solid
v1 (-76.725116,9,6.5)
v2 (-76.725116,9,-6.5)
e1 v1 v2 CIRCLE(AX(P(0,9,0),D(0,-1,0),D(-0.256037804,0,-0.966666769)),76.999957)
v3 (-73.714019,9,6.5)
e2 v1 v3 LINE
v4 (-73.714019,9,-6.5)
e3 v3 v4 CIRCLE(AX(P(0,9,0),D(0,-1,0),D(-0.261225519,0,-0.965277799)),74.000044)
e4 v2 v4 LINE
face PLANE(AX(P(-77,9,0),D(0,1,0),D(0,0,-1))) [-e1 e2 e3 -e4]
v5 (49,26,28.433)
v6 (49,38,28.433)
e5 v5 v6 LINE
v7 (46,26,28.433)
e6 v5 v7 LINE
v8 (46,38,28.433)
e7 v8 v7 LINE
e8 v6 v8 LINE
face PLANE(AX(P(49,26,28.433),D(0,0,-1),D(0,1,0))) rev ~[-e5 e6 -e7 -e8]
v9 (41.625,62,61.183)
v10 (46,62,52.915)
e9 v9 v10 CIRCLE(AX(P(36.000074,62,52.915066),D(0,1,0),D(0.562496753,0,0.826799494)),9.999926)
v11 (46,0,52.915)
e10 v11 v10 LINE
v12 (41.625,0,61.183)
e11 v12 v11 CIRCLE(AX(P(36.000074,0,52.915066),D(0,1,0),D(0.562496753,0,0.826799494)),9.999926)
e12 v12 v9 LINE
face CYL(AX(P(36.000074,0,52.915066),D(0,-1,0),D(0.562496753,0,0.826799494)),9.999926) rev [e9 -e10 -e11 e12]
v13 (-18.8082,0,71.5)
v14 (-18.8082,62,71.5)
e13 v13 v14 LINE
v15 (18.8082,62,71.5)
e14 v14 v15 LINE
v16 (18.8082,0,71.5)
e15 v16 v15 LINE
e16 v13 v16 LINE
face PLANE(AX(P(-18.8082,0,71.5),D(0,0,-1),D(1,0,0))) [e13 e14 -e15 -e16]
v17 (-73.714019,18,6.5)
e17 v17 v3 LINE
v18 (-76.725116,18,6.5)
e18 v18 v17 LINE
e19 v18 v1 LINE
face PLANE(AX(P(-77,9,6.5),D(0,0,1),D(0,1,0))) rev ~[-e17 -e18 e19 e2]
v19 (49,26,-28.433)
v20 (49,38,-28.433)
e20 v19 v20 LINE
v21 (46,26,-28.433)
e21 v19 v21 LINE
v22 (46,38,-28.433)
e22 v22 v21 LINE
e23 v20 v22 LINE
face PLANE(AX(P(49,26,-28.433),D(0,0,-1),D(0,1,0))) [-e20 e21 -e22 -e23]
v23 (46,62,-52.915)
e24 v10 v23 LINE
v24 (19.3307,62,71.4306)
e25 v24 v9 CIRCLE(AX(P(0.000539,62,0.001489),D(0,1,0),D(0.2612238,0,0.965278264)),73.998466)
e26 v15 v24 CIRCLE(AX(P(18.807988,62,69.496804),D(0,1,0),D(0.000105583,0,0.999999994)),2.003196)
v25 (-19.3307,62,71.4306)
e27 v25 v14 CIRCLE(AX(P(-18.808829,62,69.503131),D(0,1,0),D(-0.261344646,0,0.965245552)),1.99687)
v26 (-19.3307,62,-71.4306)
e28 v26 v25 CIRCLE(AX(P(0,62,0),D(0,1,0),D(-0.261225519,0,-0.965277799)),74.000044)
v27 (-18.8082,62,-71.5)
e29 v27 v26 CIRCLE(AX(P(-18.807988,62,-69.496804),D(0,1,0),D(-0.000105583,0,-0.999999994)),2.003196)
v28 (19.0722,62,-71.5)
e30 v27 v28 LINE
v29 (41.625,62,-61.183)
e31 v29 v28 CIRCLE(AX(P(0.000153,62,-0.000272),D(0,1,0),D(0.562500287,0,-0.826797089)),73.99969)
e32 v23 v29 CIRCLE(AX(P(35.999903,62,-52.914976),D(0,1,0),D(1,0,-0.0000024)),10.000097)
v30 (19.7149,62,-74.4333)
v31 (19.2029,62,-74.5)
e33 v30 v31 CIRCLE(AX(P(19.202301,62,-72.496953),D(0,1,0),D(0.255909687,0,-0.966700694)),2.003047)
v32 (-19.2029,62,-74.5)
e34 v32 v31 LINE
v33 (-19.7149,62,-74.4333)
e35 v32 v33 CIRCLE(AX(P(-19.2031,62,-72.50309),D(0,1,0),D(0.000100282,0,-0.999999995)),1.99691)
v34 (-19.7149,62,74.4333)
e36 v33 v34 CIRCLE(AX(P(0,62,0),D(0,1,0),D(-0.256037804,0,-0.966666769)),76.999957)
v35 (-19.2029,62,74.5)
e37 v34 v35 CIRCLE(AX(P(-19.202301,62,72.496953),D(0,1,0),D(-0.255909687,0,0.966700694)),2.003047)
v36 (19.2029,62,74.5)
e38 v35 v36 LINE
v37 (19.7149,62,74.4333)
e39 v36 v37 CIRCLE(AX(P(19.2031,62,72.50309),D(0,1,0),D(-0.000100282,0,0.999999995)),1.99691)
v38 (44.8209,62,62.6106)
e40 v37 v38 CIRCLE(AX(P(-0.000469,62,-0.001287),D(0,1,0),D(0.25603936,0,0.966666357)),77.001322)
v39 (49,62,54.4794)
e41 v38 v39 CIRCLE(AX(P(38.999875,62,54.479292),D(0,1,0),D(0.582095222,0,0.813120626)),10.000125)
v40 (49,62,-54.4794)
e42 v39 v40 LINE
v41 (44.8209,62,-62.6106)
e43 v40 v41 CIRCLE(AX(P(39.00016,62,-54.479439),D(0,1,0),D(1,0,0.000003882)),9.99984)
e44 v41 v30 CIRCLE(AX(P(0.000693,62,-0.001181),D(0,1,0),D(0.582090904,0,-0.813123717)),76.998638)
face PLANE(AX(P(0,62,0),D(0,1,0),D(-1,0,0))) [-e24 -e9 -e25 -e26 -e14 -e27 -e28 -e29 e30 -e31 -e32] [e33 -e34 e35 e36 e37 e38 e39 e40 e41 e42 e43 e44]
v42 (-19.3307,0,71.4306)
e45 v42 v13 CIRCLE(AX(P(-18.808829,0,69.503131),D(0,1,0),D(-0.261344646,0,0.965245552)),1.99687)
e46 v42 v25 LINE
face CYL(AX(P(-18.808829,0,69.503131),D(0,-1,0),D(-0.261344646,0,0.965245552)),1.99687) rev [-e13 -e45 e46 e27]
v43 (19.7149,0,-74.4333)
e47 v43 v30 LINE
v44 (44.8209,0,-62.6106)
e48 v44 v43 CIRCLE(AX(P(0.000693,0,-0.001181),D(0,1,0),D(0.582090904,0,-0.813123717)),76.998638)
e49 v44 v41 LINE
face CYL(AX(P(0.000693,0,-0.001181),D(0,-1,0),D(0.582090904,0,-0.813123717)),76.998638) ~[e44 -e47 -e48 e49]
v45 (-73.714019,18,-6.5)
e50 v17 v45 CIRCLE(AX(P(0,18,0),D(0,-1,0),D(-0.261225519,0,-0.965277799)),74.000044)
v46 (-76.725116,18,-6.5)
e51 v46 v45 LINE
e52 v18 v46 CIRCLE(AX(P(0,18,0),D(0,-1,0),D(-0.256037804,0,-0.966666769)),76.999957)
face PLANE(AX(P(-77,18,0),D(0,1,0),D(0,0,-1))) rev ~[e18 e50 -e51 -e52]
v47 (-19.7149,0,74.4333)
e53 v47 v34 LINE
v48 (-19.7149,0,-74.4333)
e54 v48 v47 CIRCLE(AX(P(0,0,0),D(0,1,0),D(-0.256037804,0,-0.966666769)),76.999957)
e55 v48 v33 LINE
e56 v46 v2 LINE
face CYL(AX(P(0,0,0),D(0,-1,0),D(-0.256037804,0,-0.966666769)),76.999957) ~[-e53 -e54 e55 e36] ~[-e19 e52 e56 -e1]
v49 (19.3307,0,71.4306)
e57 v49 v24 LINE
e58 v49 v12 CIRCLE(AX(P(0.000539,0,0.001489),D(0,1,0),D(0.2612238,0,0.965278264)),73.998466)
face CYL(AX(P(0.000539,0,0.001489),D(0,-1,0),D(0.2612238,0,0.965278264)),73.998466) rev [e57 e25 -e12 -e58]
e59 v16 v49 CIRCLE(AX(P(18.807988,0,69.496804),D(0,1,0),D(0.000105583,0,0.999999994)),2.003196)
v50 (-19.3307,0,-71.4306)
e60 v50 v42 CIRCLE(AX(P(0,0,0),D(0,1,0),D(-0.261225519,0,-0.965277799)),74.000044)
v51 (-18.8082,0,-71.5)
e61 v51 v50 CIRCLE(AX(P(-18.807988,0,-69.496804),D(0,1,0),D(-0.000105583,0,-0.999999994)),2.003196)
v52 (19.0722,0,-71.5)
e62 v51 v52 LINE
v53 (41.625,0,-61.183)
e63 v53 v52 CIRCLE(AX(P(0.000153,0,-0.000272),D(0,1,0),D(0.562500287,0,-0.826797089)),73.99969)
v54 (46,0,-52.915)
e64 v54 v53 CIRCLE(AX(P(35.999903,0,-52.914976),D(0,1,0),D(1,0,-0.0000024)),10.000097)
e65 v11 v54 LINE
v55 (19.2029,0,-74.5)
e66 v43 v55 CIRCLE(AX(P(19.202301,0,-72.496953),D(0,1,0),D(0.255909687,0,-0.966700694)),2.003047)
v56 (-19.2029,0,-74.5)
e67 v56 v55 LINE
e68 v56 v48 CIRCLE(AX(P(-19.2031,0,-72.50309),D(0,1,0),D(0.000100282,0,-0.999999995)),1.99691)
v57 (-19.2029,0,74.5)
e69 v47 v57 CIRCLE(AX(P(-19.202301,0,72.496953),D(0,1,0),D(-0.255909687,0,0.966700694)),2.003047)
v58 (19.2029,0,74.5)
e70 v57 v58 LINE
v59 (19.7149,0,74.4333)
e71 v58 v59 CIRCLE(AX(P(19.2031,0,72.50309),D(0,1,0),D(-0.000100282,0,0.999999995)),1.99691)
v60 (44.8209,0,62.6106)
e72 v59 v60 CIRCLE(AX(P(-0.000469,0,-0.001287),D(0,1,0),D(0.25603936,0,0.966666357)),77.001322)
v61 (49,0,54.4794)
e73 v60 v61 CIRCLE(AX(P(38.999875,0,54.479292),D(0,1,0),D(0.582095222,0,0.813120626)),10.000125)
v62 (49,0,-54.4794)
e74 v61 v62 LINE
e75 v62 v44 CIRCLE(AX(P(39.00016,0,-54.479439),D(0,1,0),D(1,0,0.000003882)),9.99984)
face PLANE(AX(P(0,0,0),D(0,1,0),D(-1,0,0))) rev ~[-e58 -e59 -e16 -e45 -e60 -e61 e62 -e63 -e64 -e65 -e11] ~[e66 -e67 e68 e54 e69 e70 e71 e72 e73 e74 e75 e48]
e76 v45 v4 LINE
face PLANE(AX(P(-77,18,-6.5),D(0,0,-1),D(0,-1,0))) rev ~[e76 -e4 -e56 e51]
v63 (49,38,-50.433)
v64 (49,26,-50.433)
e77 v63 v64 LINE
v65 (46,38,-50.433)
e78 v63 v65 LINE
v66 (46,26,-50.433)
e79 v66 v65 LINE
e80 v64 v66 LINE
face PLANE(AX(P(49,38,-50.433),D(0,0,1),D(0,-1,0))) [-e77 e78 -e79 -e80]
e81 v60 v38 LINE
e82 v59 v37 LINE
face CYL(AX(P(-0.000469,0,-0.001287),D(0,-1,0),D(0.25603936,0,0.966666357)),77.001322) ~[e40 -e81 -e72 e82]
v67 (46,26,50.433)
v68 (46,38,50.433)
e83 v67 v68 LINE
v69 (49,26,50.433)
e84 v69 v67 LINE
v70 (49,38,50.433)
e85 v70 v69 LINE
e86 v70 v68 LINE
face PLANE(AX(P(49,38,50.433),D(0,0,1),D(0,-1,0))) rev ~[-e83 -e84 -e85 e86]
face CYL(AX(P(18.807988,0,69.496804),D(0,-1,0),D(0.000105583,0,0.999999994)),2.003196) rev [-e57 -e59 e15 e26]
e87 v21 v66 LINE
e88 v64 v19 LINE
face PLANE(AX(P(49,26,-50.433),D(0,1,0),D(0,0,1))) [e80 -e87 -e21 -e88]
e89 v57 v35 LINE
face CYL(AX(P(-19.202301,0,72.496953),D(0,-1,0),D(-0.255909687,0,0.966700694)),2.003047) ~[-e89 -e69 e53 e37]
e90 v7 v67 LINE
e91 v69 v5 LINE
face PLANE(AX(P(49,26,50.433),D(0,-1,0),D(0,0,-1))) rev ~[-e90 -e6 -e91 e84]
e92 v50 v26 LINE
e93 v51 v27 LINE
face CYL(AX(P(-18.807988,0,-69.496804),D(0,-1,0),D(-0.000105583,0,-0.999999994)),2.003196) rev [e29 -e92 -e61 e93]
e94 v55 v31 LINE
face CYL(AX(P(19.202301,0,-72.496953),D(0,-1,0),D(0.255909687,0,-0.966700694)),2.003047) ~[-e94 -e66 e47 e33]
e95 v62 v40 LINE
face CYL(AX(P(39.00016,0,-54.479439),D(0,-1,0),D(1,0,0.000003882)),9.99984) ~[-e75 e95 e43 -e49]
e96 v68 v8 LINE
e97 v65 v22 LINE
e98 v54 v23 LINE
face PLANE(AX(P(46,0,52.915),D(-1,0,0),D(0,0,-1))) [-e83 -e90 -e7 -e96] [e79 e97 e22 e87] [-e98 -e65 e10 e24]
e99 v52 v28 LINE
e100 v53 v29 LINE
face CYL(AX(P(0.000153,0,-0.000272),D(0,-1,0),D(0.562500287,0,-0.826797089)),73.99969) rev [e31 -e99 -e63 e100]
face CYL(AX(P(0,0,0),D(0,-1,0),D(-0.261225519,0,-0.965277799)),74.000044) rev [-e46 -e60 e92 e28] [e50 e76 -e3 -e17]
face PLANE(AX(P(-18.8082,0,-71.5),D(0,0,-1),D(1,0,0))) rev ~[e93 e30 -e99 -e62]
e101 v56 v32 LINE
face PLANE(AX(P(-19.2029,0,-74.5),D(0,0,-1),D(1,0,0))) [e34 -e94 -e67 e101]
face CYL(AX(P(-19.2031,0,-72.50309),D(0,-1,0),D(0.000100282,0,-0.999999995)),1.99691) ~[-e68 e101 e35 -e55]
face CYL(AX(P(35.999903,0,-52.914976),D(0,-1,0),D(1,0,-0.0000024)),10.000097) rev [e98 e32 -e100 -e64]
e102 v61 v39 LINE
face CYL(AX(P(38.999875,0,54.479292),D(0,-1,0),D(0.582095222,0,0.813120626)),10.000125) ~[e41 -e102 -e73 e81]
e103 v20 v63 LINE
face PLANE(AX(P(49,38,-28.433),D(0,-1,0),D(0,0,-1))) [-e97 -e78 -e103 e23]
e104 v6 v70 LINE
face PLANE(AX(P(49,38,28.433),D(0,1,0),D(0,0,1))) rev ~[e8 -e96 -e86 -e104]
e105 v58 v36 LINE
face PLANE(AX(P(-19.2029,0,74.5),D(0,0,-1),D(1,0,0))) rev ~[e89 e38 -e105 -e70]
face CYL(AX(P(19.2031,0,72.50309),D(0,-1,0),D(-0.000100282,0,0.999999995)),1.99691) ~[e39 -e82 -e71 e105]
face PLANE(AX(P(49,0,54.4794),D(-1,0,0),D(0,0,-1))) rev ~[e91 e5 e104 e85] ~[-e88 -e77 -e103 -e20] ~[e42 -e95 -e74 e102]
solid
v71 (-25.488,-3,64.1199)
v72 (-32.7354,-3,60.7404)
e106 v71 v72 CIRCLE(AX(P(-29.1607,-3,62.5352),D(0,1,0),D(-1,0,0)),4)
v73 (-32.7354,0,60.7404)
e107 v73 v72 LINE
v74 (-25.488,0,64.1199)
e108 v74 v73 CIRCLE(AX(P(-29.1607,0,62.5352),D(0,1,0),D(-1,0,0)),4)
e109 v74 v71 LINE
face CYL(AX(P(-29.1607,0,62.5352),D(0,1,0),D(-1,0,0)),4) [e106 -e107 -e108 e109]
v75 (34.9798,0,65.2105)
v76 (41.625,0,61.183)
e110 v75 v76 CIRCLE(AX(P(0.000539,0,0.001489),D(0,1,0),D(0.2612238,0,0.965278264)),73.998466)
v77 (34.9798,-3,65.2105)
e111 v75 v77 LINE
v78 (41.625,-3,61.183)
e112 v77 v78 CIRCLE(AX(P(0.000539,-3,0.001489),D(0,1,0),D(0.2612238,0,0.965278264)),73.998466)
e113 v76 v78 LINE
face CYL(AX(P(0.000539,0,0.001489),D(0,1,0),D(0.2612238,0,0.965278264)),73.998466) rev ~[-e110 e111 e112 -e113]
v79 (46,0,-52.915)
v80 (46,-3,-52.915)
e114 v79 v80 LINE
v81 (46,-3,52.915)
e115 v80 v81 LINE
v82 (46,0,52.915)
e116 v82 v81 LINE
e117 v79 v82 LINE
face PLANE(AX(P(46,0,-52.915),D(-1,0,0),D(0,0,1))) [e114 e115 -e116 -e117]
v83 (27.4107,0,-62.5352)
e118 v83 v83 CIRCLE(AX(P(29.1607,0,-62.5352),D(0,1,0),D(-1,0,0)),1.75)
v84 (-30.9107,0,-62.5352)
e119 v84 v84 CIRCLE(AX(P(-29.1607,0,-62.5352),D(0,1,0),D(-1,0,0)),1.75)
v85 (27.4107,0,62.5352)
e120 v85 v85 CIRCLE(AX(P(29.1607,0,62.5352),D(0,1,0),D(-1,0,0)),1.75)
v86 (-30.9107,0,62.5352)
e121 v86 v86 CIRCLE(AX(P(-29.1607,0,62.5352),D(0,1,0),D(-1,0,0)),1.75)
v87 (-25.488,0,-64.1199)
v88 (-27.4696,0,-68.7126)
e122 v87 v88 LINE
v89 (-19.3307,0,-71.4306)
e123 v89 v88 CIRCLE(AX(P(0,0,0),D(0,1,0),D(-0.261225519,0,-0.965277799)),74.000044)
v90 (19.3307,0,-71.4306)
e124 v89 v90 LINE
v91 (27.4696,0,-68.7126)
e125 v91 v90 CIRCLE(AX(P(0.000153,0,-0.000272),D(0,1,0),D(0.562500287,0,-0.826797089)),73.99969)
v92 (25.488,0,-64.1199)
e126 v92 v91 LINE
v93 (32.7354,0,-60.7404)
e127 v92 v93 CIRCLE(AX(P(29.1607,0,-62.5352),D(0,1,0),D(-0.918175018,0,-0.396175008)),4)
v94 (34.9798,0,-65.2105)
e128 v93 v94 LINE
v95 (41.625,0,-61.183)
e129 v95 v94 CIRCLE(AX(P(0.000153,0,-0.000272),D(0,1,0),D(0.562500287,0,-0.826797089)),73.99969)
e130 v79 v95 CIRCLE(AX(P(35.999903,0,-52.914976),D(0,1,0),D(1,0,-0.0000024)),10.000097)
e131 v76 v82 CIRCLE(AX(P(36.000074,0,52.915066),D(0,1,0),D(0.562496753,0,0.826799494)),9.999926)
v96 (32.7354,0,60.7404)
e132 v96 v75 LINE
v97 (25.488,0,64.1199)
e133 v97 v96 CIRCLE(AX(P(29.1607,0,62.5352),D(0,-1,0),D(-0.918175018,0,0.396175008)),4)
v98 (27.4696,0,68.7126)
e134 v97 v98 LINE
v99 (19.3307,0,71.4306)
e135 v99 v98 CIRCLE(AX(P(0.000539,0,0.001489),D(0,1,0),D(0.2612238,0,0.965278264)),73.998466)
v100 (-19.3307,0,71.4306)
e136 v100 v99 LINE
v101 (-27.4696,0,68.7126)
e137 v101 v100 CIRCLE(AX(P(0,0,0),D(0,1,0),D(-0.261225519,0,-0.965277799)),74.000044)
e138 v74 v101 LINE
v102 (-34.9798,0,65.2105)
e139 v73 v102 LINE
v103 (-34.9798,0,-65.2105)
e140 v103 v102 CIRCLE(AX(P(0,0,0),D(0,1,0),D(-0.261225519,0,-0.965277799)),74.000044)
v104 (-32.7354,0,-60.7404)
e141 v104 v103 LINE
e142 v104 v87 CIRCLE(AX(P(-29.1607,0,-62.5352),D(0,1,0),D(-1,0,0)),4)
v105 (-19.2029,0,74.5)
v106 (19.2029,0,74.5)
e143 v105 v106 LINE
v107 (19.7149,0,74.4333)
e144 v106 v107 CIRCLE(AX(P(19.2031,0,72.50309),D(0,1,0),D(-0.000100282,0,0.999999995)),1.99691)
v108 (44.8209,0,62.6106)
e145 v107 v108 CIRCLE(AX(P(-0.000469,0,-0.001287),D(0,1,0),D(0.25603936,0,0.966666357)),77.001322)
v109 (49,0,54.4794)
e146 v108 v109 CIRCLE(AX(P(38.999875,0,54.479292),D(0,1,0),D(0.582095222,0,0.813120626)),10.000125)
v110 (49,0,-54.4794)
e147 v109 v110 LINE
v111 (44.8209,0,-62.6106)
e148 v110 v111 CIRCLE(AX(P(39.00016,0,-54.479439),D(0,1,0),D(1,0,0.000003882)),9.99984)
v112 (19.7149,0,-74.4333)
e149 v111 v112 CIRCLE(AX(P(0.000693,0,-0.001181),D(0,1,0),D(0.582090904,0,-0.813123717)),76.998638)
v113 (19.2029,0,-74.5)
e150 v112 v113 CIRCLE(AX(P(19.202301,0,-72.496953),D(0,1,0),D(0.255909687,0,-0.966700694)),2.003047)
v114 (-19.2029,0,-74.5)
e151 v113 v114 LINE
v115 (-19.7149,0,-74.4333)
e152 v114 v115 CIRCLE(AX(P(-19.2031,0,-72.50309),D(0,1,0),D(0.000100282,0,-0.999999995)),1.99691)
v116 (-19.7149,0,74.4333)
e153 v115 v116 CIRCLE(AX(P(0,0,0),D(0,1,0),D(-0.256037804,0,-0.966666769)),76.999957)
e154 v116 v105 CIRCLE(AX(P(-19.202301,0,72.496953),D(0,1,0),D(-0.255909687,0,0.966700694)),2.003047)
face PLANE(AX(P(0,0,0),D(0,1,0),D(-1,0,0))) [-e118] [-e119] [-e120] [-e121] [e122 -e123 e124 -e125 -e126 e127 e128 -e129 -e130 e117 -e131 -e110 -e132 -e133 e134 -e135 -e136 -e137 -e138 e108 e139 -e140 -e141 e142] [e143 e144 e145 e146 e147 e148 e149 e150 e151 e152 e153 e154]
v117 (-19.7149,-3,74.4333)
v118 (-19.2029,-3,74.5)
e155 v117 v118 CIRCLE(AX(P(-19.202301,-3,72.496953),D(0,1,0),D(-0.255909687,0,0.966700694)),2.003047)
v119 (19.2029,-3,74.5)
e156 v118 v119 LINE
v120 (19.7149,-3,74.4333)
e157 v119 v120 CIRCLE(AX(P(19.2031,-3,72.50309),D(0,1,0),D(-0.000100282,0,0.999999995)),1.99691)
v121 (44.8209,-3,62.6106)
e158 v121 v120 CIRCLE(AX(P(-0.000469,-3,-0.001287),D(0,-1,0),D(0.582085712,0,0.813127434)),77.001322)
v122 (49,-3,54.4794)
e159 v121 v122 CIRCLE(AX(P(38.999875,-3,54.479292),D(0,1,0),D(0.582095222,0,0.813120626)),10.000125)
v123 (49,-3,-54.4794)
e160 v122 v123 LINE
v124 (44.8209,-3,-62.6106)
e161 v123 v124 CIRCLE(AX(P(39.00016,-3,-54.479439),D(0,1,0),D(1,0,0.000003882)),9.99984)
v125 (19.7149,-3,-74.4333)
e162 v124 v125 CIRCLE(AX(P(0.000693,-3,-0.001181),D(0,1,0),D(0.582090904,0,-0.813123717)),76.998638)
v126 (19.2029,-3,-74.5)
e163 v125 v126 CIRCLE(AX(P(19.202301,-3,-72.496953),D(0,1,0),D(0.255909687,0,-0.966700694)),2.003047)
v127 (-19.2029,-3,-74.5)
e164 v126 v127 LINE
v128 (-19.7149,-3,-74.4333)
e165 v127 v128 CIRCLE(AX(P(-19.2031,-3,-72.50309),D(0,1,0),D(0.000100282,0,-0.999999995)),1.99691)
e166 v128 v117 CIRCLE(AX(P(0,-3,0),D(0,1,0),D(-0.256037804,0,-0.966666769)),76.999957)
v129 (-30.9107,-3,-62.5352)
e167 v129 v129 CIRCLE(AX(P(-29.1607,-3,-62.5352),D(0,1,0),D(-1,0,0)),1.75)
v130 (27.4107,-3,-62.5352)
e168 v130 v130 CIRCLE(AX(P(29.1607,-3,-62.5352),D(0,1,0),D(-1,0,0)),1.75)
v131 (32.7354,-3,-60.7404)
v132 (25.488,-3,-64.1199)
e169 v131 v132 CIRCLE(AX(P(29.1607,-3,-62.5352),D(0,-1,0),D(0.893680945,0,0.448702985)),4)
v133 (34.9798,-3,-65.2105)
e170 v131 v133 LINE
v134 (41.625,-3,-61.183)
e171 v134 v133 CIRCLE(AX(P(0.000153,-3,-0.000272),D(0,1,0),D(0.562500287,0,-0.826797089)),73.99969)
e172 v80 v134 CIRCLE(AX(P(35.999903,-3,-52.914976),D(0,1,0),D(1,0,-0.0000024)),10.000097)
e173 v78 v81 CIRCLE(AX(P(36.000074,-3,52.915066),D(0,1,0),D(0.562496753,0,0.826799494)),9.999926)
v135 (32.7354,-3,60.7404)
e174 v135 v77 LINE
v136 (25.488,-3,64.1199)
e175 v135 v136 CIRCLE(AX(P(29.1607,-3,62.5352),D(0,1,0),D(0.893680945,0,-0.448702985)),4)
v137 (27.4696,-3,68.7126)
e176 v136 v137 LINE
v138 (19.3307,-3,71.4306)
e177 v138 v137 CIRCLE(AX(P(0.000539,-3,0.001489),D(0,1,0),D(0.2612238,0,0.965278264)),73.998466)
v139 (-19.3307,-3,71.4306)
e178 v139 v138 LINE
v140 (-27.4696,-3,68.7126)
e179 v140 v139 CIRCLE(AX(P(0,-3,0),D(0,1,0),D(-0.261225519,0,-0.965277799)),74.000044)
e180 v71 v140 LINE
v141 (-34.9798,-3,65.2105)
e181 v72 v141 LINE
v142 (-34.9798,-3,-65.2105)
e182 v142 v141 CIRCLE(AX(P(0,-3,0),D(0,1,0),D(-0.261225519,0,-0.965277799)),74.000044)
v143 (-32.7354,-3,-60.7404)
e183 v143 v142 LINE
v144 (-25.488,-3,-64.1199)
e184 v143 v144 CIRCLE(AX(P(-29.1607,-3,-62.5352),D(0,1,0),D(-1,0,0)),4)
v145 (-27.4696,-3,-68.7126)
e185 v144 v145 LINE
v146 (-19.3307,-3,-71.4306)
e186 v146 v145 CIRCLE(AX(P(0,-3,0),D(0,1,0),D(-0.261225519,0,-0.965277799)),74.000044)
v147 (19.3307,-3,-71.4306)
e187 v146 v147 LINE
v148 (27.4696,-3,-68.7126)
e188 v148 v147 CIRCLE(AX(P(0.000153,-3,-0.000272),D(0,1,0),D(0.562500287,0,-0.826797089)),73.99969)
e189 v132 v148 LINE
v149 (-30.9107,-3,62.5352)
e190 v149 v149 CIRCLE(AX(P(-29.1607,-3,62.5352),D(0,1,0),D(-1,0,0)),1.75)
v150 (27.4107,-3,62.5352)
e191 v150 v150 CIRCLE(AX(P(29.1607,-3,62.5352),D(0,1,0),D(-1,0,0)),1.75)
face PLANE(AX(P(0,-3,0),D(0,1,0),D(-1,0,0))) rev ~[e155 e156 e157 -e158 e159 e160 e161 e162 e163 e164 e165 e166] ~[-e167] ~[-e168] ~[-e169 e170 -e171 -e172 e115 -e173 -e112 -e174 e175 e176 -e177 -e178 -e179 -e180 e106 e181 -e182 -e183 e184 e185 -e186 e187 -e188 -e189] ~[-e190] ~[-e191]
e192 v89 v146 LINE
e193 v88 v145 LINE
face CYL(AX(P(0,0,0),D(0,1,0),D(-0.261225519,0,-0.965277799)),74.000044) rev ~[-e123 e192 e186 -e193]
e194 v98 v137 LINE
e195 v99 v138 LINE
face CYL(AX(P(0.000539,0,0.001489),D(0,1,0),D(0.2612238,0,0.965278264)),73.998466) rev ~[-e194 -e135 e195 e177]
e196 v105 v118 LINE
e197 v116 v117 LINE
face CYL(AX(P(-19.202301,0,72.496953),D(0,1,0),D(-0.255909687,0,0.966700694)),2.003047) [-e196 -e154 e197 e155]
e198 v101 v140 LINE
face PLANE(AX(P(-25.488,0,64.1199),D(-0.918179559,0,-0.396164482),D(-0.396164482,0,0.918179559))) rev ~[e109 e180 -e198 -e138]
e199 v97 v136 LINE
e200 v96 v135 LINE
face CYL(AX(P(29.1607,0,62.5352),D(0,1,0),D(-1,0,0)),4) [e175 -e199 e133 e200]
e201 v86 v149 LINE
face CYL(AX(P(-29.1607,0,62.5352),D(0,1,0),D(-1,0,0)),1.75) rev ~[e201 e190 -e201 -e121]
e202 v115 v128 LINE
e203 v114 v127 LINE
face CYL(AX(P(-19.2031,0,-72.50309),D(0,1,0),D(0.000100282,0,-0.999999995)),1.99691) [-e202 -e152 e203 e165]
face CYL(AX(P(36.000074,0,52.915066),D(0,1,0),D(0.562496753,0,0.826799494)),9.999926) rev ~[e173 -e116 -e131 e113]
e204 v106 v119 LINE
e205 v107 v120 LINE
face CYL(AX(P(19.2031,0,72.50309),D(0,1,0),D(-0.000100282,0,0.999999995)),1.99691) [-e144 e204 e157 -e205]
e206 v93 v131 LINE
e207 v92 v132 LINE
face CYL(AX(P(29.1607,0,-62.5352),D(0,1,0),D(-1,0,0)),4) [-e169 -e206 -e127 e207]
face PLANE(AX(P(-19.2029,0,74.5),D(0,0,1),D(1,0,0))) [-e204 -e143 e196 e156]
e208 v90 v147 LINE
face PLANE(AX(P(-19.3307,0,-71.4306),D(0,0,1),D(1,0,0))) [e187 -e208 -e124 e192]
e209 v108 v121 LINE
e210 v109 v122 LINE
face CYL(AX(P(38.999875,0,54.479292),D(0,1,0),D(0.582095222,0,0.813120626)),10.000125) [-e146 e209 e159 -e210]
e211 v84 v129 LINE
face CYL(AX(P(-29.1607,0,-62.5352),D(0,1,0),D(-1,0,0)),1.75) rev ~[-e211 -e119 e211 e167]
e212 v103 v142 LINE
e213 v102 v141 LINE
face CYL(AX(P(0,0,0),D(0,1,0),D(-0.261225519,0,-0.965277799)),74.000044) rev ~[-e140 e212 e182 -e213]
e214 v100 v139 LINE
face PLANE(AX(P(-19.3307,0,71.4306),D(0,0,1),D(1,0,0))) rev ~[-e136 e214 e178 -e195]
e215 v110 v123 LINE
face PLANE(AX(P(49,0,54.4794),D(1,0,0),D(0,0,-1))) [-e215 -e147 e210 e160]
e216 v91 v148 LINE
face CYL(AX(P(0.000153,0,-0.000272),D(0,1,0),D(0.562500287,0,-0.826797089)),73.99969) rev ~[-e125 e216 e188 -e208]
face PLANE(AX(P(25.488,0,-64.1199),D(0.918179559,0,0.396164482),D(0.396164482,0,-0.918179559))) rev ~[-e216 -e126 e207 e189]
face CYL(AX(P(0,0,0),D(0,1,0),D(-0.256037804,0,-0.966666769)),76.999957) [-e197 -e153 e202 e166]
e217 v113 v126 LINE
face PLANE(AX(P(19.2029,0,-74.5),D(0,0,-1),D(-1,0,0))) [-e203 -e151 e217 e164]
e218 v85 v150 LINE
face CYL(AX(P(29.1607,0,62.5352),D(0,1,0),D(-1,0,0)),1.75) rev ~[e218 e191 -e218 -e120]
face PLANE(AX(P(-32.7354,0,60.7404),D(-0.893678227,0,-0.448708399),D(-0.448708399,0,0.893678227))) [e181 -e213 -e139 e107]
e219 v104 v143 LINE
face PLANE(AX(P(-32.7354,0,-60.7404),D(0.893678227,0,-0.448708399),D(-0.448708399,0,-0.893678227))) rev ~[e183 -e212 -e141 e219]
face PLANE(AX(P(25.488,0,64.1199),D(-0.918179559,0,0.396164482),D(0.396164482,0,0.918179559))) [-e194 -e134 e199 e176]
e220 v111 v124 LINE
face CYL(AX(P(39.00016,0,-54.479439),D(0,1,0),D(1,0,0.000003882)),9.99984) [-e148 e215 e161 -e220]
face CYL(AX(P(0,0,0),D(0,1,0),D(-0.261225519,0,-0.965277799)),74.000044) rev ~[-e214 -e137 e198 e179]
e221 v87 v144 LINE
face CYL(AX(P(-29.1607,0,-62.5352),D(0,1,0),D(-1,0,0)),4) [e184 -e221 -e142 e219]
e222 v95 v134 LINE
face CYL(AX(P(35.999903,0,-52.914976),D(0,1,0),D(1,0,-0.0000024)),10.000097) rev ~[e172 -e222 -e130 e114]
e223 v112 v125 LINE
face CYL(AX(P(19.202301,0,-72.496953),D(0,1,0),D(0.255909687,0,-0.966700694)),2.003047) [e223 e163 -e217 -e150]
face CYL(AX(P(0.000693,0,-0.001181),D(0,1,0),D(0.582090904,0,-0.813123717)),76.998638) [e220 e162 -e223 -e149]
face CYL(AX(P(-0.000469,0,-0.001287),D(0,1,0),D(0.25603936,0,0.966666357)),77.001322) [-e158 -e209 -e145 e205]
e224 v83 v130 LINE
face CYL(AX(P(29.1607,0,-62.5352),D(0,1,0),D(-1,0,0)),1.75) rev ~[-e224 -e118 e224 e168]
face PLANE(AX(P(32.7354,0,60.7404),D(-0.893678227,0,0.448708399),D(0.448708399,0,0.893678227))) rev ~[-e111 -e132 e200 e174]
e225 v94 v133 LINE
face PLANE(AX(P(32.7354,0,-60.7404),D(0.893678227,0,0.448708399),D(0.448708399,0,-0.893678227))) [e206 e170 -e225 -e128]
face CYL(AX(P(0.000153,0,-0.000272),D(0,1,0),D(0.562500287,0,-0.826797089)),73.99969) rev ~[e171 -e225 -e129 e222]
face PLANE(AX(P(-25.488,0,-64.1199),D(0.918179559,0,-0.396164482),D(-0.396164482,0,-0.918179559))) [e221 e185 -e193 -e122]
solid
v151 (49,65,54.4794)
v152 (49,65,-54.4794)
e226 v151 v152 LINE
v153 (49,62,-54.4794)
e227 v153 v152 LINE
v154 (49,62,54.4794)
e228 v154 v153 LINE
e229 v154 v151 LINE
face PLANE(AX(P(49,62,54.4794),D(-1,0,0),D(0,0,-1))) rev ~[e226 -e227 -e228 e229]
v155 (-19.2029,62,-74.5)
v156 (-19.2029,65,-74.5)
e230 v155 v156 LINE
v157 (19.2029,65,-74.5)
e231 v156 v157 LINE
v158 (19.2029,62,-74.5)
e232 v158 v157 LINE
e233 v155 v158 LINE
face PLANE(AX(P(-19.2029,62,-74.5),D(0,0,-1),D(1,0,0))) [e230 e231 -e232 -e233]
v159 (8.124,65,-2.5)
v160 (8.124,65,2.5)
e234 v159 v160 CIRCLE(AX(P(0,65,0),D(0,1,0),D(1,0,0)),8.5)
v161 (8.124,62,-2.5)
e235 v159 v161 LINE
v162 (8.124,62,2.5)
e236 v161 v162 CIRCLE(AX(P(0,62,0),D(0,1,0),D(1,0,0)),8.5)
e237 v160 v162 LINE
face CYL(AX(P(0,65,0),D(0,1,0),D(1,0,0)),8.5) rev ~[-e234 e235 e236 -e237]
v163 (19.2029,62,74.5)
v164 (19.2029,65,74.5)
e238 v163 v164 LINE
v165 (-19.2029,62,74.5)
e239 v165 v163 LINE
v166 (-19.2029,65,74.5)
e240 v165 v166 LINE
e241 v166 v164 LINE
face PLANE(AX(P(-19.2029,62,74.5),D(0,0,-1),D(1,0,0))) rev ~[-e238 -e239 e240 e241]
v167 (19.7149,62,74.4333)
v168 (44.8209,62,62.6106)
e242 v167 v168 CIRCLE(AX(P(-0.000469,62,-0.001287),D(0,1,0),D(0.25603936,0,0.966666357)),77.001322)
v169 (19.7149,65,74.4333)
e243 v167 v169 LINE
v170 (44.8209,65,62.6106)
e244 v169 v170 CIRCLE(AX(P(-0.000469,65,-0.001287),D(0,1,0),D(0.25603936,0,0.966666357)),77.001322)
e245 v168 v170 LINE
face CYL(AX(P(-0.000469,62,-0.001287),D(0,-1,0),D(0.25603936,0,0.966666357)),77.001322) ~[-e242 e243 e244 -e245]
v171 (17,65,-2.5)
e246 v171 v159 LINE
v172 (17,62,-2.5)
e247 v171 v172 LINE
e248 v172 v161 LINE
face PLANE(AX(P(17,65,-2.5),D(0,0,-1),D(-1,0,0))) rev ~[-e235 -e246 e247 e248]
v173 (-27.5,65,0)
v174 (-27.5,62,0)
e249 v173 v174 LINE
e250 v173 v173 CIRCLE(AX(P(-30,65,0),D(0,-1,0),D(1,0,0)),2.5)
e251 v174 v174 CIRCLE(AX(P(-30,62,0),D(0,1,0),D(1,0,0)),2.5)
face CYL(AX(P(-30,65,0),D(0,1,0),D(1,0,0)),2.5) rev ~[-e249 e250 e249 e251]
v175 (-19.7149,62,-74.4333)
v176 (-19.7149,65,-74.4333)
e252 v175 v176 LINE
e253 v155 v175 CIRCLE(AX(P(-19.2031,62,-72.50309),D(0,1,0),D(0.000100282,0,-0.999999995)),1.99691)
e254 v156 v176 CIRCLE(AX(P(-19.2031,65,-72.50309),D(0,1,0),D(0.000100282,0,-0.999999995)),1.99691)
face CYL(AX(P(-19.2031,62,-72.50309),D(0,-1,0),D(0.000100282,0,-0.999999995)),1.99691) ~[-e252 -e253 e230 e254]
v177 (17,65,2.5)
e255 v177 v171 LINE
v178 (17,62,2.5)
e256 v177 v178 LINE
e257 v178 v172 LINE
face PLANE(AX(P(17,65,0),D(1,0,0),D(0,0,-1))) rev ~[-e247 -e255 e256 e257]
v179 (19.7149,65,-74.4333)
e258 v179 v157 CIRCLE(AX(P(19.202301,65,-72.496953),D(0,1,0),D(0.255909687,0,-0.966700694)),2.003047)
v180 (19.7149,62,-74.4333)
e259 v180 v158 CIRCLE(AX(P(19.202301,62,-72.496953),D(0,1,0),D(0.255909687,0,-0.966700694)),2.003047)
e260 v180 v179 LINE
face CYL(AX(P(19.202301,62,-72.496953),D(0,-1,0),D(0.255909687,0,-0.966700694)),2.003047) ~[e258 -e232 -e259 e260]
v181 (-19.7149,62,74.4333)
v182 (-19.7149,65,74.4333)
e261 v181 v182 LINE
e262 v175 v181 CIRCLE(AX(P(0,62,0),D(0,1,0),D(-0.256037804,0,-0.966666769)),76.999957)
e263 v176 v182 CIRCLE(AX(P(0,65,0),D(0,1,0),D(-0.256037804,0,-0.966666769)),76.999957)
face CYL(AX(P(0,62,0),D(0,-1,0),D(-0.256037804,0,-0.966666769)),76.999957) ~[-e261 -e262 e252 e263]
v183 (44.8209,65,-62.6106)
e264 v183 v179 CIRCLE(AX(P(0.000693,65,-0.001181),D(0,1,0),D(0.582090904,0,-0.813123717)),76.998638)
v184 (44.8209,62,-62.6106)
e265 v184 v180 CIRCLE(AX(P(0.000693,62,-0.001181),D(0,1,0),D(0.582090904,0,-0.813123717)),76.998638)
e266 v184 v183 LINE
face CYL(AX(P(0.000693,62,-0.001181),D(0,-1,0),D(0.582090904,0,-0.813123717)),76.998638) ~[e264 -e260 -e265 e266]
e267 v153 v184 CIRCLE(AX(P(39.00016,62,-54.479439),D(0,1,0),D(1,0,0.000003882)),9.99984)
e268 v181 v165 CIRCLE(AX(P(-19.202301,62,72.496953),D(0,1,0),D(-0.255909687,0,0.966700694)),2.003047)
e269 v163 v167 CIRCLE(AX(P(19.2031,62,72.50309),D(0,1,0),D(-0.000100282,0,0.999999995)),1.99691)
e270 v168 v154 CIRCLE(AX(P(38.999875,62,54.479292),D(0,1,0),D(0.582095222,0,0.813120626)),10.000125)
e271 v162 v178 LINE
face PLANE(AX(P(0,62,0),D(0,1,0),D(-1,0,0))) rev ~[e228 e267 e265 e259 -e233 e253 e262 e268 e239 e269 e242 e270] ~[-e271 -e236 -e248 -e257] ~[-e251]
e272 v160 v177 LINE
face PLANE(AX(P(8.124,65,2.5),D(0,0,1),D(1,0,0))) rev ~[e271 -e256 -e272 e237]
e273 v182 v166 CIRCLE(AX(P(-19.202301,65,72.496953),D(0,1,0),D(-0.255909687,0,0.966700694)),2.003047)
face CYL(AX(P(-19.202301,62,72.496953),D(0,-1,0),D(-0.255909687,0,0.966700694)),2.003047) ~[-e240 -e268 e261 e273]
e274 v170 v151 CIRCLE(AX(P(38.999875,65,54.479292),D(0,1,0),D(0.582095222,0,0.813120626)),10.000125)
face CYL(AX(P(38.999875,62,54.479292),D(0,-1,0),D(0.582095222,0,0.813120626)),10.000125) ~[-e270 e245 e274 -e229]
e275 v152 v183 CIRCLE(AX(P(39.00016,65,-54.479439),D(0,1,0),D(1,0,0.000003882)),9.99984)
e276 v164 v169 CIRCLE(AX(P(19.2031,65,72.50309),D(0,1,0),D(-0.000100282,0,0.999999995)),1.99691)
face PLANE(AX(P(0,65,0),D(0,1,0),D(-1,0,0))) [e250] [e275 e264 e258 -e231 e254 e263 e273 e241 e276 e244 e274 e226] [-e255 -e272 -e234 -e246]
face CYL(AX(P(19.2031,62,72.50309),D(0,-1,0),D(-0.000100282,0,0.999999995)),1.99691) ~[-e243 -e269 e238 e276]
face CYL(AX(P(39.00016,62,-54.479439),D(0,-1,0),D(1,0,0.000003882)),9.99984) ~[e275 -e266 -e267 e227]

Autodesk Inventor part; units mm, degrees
ref_plane "YZ Plane" through (0, 0, 0) normal (1, 0, 0) x (0, 1, 0)
ref_plane "XZ Plane" through (0, 0, 0) normal (0, 1, 0) x (-1, 0, 0)
sketch "Sketch1" plane through (0, 0, 0) normal (0, 1, 0) x (-1, 0, 0)
  line L0 (18.8082, 71.5) -> (-18.8082, 71.5)
  line L1 (0, 0) -> (-49, 0) construction
  line L2 (19.2029, 74.5) -> (-19.2029, 74.5)
  line L3 (18.8082, -71.5) -> (-19.0722, -71.5)
  line L4 (19.2029, -74.5) -> (-19.2029, -74.5)
  line L5 (0, 0) -> (0, 74.5) construction
  line L6 (-46, 52.915) -> (-46, -52.915)
  line L7 (-49, 54.4794) -> (-49, -54.4794)
  arc A0 (-41.625, -61.183) -> (-19.0722, -71.5) centre (0, 0) ccw
  arc A1 (-44.8209, -62.6106) -> (-19.7149, -74.4333) centre (0, 0) ccw
  arc A2 (19.7149, -74.4333) -> (19.7149, 74.4333) centre (0, 0) ccw
  arc A3 (-19.7149, 74.4333) -> (-44.8209, 62.6106) centre (0, 0) ccw
  arc A4 (19.3307, -71.4306) -> (19.3307, 71.4306) centre (0, 0) ccw
  arc A5 (-19.3307, 71.4306) -> (-41.625, 61.183) centre (0, 0) ccw
  arc A6 (-19.7149, -74.4333) -> (-19.2029, -74.5) centre (-19.2029, -72.5) ccw
  arc A7 (19.2029, -74.5) -> (19.7149, -74.4333) centre (19.2029, -72.5) ccw
  arc A8 (18.8082, -71.5) -> (19.3307, -71.4306) centre (18.8082, -69.5) ccw
  arc A9 (19.3307, 71.4306) -> (18.8082, 71.5) centre (18.8082, 69.5) ccw
  arc A10 (19.7149, 74.4333) -> (19.2029, 74.5) centre (19.2029, 72.5) ccw
  arc A11 (-18.8082, 71.5) -> (-19.3307, 71.4306) centre (-18.8082, 69.5) ccw
  arc A12 (-19.2029, 74.5) -> (-19.7149, 74.4333) centre (-19.2029, 72.5) ccw
  arc A13 (-41.625, 61.183) -> (-46, 52.915) centre (-36, 52.915) ccw
  arc A14 (-44.8209, 62.6106) -> (-49, 54.4794) centre (-39, 54.4794) ccw
  arc A15 (-49, -54.4794) -> (-44.8209, -62.6106) centre (-39, -54.4794) ccw
  arc A16 (-46, -52.915) -> (-41.625, -61.183) centre (-36, -52.915) ccw
  point P0 (-19.4615, 74.5)
  point P1 (19.0722, -71.5)
  point P2 (19.4615, -74.5)
  point P3 (-19.4615, -74.5)
  point P4 (-49, -59.397)
  point P5 (-46, 57.9655)
  point P6 (-46, -57.9655)
  point P7 (-49, 59.397)
  point P8 (19.4615, 74.5)
  point P9 (19.0722, 71.5)
  point P10 (-19.0722, 71.5)
  dimension "d2" = 71.5
  dimension "d4" = 3
  dimension "d6" = 46
  dimension "d7" = 3
  dimension "d8" = 2
  dimension "d9" = 10
  dimension "d10" = 74
  dimension "d11" = 77
  dimension "d12" = 74
  dimension "d13" = 77
extrude "Extrusion1" add sketch "Sketch1" along normal blind 62
sketch "Sketch2" plane through (49, 0, 54.4794) normal (1, 0, 0) x (0, 0, -1)
  line L0 (54.4794, 0) -> (54.4794, 62) construction
  line L1 (107.3944, 62) -> (1.5643, 62) projected
  line L2 (0, 0) -> (108.9587, 0) projected
  line L3 (-19.954, 0) -> (-19.954, 62) projected
  line L4 (54.4794, 0) -> (54.4794, 62)
  line L5 (54.4794, 0) -> (54.4794, 26)
  line L6 (54.4794, 26) -> (26.0464, 26)
  line L7 (26.0464, 26) -> (26.0464, 38)
  line L8 (26.0464, 38) -> (4.0464, 38)
  line L9 (4.0464, 38) -> (4.0464, 26)
  line L10 (4.0464, 26) -> (26.0464, 26)
  line L11 (82.9124, 26) -> (82.9124, 38)
  line L12 (82.9124, 38) -> (104.9124, 38)
  line L13 (104.9124, 38) -> (104.9124, 26)
  line L14 (104.9124, 26) -> (82.9124, 26)
  dimension "d240" = 26
  dimension "d241" = 28.433
  dimension "d242" = 12
  dimension "d243" = 22
  dimension "d244" = 12
extrude "Extrusion2" cut sketch "Sketch2" against normal blind 13.25
sketch "Sketch3" plane through (49, 0, 54.4794) normal (1, 0, 0) x (0, 0, -1)
  line L0 (3.568, 49.2223) -> (17.7975, 43.9952) construction
  line L1 (2.8909, 47.379) -> (17.1204, 42.1519)
  line L2 (18.4746, 45.8385) -> (4.2452, 51.0656)
  arc A0 (4.2452, 51.0656) -> (2.8909, 47.379) centre (3.568, 49.2223) ccw
  arc A1 (17.1204, 42.1519) -> (18.4746, 45.8385) centre (17.7975, 43.9952) ccw
  arc A2 (44.4296, 11.624) -> (34.6921, 2.9774) centre (43.8866, 2.4292) ccw construction
  arc A3 (44.531, 13.3402) -> (32.9759, 3.0797) centre (43.8866, 2.4292) ccw
  arc A4 (44.3283, 9.9077) -> (36.4083, 2.8751) centre (43.8866, 2.4292) ccw
  arc A5 (44.3283, 9.9077) -> (44.531, 13.3402) centre (44.4296, 11.624) ccw
  arc A6 (32.9759, 3.0797) -> (36.4083, 2.8751) centre (34.6921, 2.9774) ccw
  line L3 (54.4794, 0) -> (54.4794, 62) construction
  line L4 (106.0678, 47.379) -> (91.8383, 42.1519)
  line L5 (90.4841, 45.8385) -> (104.7135, 51.0656)
  arc A7 (106.0678, 47.379) -> (104.7135, 51.0656) centre (105.3907, 49.2223) ccw
  arc A8 (90.4841, 45.8385) -> (91.8383, 42.1519) centre (91.1612, 43.9952) ccw
  point P0 (10.6828, 46.6088)
extrude "Extrusion3" [suppressed]
extrude "Extrusion4" add sketch "Sketch1" along normal blind 3 from surface at 62 separate body contours A9 A4 A8 L3 A0 A16 L6 A13 A5 A11 L0 | A10 A2 A7 L4 A6 A1 A15 L7 A14 A3 A12 L2
sketch "Sketch5" plane through (-19.2029, 65, 74.5) normal (0, 1, 0) x (1, 0, 0)
  circle A0 centre (19.2029, 74.5) radius 8.5
  circle A1 centre (-10.7971, 74.5) radius 2.5
  line L0 (27.3269, 72) -> (36.2029, 72)
  line L1 (36.2029, 72) -> (36.2029, 77)
  line L2 (36.2029, 77) -> (27.3269, 77)
  line L3 (36.2029, 74.5) -> (68.2029, 74.5)
  line L4 (68.2029, 20.0206) -> (68.2029, 128.9794) projected
  line L5 (-10.7971, 74.5) -> (-57.7971, 74.5)
  arc A2 (-0.5121, 148.9333) -> (-0.5121, 0.0667) centre (19.2029, 74.5) ccw projected
  dimension "d26" = 17
  dimension "d27" = 5
  dimension "d31" = 5
  dimension "d32" = 17
  dimension "d47" = 30
  dimension "d204" = 32
  dimension "d205" = 47
  dimension "d206" = 49
extrude "Extrusion5" cut sketch "Sketch5" against normal through all
sketch "Sketch6" plane through (0, 0, 0) normal (0, 1, 0) x (-1, 0, 0)
  circle A0 centre (0, 0) radius 69 construction
  arc A1 (-19.3307, 71.4306) -> (-41.625, 61.183) centre (0, 0) ccw projected
  arc A2 (-41.625, 61.183) -> (-46, 52.915) centre (-36, 52.915) ccw projected
  line L0 (-46, -52.915) -> (-46, 52.915) projected
  arc A3 (-46, -52.915) -> (-41.625, -61.183) centre (-36, -52.915) ccw projected
  arc A4 (-41.625, -61.183) -> (-19.0722, -71.5) centre (0, 0) ccw projected
  line L1 (18.8082, -71.5) -> (-19.0722, -71.5) construction
  arc A5 (19.3307, -71.4306) -> (19.3307, 71.4306) centre (0, 0) ccw projected
  line L2 (-18.8082, 71.5) -> (18.8082, 71.5) construction
  line L3 (19.2029, 74.5) -> (-19.2029, 74.5) projected
  arc A6 (-19.7149, 74.4333) -> (-44.8209, 62.6106) centre (0, 0) ccw projected
  arc A7 (-44.8209, 62.6106) -> (-49, 54.4794) centre (-39, 54.4794) ccw projected
  line L4 (-49, 54.4794) -> (-49, -54.4794) projected
  arc A8 (-49, -54.4794) -> (-44.8209, -62.6106) centre (-39, -54.4794) ccw projected
  arc A9 (-44.8209, -62.6106) -> (-19.7149, -74.4333) centre (0, 0) ccw projected
  line L5 (-19.2029, -74.5) -> (19.2029, -74.5) projected
  arc A10 (19.7149, -74.4333) -> (19.7149, 74.4333) centre (0, 0) ccw projected
  arc A11 (-18.5383, 65.4242) -> (-38.25, 56.2222) centre (0, 0) ccw construction
  arc A12 (-38.25, 56.2222) -> (-40, 52.915) centre (-36, 52.915) ccw construction
  line L6 (-40, 52.915) -> (-40, -52.915) construction
  arc A13 (-40, -52.915) -> (-38.25, -56.2222) centre (-36, -52.915) ccw construction
  arc A14 (-38.25, -56.2222) -> (-18.5383, -65.4242) centre (0, 0) ccw construction
  line L7 (-17.9931, -65.5) -> (17.9931, -65.5) construction
  line L8 (-17.9931, 65.5) -> (17.9931, 65.5) construction
  arc A15 (18.5383, -65.4242) -> (18.5383, 65.4242) centre (0, 0) ccw construction
  arc A16 (-8.124, -2.5) -> (-8.124, 2.5) centre (0, 0) ccw projected
  line L9 (0, 0) -> (52.8571, 44.3523) construction
  line L10 (0, 0) -> (77, 0) construction
  line L11 (0, 0) -> (0, -69) construction
  circle A17 centre (29.1607, 62.5352) radius 3 construction
  line L12 (29.1607, 62.5352) -> (0, 0) construction
  circle A18 centre (-29.1607, 62.5352) radius 3 construction
  line L13 (-29.1607, 62.5352) -> (0, 0) construction
  arc A19 (-17.9931, 65.5) -> (-18.5383, 65.4242) centre (-17.9931, 63.5) ccw construction
  arc A20 (-18.5383, -65.4242) -> (-17.9931, -65.5) centre (-17.9931, -63.5) ccw construction
  arc A21 (17.9931, -65.5) -> (18.5383, -65.4242) centre (17.9931, -63.5) ccw construction
  arc A22 (18.5383, 65.4242) -> (17.9931, 65.5) centre (17.9931, 63.5) ccw construction
  arc A23 (-19.7149, -74.4333) -> (-19.2029, -74.5) centre (-19.2029, -72.5) ccw projected
  arc A24 (19.2029, -74.5) -> (19.7149, -74.4333) centre (19.2029, -72.5) ccw projected
  arc A25 (19.7149, 74.4333) -> (19.2029, 74.5) centre (19.2029, 72.5) ccw projected
  arc A26 (-19.2029, 74.5) -> (-19.7149, 74.4333) centre (-19.2029, 72.5) ccw projected
  circle A27 centre (29.1607, -62.5352) radius 3 construction
  circle A28 centre (-29.1607, -62.5352) radius 3 construction
  line L14 (19.3307, 65.1945) -> (19.3307, 71.4306)
  line L15 (-19.3307, 65.1945) -> (-19.3307, 71.4306)
  line L16 (19.3307, 71.4306) -> (-19.3307, 71.4306)
  line L17 (19.3307, -65.1945) -> (19.3307, -71.4306)
  line L18 (-19.3307, -65.1945) -> (-19.3307, -71.4306)
  line L19 (19.3307, -71.4306) -> (-19.3307, -71.4306)
  circle A29 centre (29.1607, 62.5352) radius 4
  circle A30 centre (-29.1607, 62.5352) radius 4
  line L20 (-32.7354, 60.7404) -> (-34.9798, 65.2105)
  circle A31 centre (29.1607, -62.5352) radius 4
  circle A32 centre (-29.1607, -62.5352) radius 4
  line L21 (-32.7354, -60.7404) -> (-34.9798, -65.2105)
  line L22 (32.7354, 60.7404) -> (34.9798, 65.2105)
  line L23 (32.7354, -60.7404) -> (34.9798, -65.2105)
  line L24 (-25.488, 64.1199) -> (-27.4696, 68.7126)
  line L25 (25.488, 64.1199) -> (27.4696, 68.7126)
  line L26 (-25.488, -64.1199) -> (-27.4696, -68.7126)
  line L27 (25.488, -64.1199) -> (27.4696, -68.7126)
  line L28 (-18.8082, 71.5) -> (-49, 71.5)
  line L29 (-49, 71.5) -> (-49, 54.4794)
  line L30 (-28.5788, 71.5) -> (-18.8082, 71.5)
  circle A33 centre (-29.1607, -62.5352) radius 1.75
  circle A34 centre (29.1607, -62.5352) radius 1.75
  circle A35 centre (29.1607, 62.5352) radius 1.75
  circle A36 centre (-29.1607, 62.5352) radius 1.75
  point P0 (-18.2688, -65.5)
  point P1 (-19.3307, 65.1945)
  point P2 (-19.3307, -65.1945)
  point P3 (29.1607, 62.5352)
  point P4 (26.7032, 60.8145)
  point P5 (-46, 24)
  point P6 (-46, 16)
  point P7 (-29.4221, 59.5467)
  point P8 (-19.3307, -71.4306)
  point P9 (-34.9798, -65.2105)
  point P10 (34.9798, -65.2105)
  point P11 (-27.9581, 66.3502)
  point P12 (-27.9581, -66.3502)
  point P13 (27.9581, -66.3502)
  point P14 (27.9581, 66.3502)
  point P15 (-32.8561, 64.0662)
  point P16 (32.8561, -64.0662)
  point P17 (-32.8561, -64.0662)
  point P18 (32.8561, 64.0662)
  point P19 (25.488, -64.1199)
  point P20 (27.4696, -68.7126)
  point P21 (-25.488, -64.1199)
  point P22 (34.0084, -67.0387)
  point P23 (-28.5882, -71.3052)
  point P24 (28.5882, -71.3052)
  point P25 (28.5882, 71.3052)
  point P26 (-28.5882, 71.3052)
  point P27 (34.0084, 67.0387)
  point P28 (-19.3307, -71.4306)
  point P29 (-34.0084, -67.0387)
  point P30 (-34.0084, 67.0387)
  dimension "d33" = 138
  dimension "d229" = 6
  dimension "d34" = 6
  dimension "d35" = 6
  dimension "d36" = 6
  dimension "d37" = 40
  dimension "d38" = 25
  dimension "d42" = 25
  dimension "d44" = 2
  dimension "d62" = 8
  dimension "d64" = 8
  dimension "d171" = 90
  dimension "d172" = 17.0206
  dimension "d227" = 3.5
  dimension "d228" = 3.5
  dimension "d230" = 3.5
  dimension "d231" = 3.5
extrude "Extrusion6" add sketch "Sketch6" against normal blind 3 separate body contours L24 A30 L20 A1 | A30 | A5 L22 A29 L25 | A29 | A5 L27 A31 L23 | A31 | L21 A32 L26 A4 | A32 | A25 A10 A24 L5 A23 A9 A8 L4 A7 A6 A26 L3
ref_plane "Work Plane2" through (-77, 0, 0) normal (-1, 0, 0) x (0, 0, 1)
sketch "Sketch20" plane through (-77, 0, 0) normal (-1, 0, 0) x (0, 0, 1)
  line L0 (-54.4794, -3) -> (54.4794, -3) projected
  line L1 (0, -3) -> (0, 9)
  line L2 (0, 9) -> (0, 18)
  line L3 (0, 18) -> (6.5, 18)
  line L4 (0, 9) -> (-6.5, 9)
  line L5 (-6.5, 9) -> (6.5, 9)
  line L6 (6.5, 9) -> (6.5, 18)
  line L7 (6.5, 18) -> (-6.5, 18)
  line L8 (-6.5, 18) -> (-6.5, 9)
  point P0 (0, 0)
  dimension "d215" = 12
  dimension "d216" = 9
  dimension "d217" = 6.5
  dimension "d218" = 6.5
extrude "Extrusion16" cut sketch "Sketch20" against normal blind 10.75 bodies 1
properties part number "carcasa4.0"
